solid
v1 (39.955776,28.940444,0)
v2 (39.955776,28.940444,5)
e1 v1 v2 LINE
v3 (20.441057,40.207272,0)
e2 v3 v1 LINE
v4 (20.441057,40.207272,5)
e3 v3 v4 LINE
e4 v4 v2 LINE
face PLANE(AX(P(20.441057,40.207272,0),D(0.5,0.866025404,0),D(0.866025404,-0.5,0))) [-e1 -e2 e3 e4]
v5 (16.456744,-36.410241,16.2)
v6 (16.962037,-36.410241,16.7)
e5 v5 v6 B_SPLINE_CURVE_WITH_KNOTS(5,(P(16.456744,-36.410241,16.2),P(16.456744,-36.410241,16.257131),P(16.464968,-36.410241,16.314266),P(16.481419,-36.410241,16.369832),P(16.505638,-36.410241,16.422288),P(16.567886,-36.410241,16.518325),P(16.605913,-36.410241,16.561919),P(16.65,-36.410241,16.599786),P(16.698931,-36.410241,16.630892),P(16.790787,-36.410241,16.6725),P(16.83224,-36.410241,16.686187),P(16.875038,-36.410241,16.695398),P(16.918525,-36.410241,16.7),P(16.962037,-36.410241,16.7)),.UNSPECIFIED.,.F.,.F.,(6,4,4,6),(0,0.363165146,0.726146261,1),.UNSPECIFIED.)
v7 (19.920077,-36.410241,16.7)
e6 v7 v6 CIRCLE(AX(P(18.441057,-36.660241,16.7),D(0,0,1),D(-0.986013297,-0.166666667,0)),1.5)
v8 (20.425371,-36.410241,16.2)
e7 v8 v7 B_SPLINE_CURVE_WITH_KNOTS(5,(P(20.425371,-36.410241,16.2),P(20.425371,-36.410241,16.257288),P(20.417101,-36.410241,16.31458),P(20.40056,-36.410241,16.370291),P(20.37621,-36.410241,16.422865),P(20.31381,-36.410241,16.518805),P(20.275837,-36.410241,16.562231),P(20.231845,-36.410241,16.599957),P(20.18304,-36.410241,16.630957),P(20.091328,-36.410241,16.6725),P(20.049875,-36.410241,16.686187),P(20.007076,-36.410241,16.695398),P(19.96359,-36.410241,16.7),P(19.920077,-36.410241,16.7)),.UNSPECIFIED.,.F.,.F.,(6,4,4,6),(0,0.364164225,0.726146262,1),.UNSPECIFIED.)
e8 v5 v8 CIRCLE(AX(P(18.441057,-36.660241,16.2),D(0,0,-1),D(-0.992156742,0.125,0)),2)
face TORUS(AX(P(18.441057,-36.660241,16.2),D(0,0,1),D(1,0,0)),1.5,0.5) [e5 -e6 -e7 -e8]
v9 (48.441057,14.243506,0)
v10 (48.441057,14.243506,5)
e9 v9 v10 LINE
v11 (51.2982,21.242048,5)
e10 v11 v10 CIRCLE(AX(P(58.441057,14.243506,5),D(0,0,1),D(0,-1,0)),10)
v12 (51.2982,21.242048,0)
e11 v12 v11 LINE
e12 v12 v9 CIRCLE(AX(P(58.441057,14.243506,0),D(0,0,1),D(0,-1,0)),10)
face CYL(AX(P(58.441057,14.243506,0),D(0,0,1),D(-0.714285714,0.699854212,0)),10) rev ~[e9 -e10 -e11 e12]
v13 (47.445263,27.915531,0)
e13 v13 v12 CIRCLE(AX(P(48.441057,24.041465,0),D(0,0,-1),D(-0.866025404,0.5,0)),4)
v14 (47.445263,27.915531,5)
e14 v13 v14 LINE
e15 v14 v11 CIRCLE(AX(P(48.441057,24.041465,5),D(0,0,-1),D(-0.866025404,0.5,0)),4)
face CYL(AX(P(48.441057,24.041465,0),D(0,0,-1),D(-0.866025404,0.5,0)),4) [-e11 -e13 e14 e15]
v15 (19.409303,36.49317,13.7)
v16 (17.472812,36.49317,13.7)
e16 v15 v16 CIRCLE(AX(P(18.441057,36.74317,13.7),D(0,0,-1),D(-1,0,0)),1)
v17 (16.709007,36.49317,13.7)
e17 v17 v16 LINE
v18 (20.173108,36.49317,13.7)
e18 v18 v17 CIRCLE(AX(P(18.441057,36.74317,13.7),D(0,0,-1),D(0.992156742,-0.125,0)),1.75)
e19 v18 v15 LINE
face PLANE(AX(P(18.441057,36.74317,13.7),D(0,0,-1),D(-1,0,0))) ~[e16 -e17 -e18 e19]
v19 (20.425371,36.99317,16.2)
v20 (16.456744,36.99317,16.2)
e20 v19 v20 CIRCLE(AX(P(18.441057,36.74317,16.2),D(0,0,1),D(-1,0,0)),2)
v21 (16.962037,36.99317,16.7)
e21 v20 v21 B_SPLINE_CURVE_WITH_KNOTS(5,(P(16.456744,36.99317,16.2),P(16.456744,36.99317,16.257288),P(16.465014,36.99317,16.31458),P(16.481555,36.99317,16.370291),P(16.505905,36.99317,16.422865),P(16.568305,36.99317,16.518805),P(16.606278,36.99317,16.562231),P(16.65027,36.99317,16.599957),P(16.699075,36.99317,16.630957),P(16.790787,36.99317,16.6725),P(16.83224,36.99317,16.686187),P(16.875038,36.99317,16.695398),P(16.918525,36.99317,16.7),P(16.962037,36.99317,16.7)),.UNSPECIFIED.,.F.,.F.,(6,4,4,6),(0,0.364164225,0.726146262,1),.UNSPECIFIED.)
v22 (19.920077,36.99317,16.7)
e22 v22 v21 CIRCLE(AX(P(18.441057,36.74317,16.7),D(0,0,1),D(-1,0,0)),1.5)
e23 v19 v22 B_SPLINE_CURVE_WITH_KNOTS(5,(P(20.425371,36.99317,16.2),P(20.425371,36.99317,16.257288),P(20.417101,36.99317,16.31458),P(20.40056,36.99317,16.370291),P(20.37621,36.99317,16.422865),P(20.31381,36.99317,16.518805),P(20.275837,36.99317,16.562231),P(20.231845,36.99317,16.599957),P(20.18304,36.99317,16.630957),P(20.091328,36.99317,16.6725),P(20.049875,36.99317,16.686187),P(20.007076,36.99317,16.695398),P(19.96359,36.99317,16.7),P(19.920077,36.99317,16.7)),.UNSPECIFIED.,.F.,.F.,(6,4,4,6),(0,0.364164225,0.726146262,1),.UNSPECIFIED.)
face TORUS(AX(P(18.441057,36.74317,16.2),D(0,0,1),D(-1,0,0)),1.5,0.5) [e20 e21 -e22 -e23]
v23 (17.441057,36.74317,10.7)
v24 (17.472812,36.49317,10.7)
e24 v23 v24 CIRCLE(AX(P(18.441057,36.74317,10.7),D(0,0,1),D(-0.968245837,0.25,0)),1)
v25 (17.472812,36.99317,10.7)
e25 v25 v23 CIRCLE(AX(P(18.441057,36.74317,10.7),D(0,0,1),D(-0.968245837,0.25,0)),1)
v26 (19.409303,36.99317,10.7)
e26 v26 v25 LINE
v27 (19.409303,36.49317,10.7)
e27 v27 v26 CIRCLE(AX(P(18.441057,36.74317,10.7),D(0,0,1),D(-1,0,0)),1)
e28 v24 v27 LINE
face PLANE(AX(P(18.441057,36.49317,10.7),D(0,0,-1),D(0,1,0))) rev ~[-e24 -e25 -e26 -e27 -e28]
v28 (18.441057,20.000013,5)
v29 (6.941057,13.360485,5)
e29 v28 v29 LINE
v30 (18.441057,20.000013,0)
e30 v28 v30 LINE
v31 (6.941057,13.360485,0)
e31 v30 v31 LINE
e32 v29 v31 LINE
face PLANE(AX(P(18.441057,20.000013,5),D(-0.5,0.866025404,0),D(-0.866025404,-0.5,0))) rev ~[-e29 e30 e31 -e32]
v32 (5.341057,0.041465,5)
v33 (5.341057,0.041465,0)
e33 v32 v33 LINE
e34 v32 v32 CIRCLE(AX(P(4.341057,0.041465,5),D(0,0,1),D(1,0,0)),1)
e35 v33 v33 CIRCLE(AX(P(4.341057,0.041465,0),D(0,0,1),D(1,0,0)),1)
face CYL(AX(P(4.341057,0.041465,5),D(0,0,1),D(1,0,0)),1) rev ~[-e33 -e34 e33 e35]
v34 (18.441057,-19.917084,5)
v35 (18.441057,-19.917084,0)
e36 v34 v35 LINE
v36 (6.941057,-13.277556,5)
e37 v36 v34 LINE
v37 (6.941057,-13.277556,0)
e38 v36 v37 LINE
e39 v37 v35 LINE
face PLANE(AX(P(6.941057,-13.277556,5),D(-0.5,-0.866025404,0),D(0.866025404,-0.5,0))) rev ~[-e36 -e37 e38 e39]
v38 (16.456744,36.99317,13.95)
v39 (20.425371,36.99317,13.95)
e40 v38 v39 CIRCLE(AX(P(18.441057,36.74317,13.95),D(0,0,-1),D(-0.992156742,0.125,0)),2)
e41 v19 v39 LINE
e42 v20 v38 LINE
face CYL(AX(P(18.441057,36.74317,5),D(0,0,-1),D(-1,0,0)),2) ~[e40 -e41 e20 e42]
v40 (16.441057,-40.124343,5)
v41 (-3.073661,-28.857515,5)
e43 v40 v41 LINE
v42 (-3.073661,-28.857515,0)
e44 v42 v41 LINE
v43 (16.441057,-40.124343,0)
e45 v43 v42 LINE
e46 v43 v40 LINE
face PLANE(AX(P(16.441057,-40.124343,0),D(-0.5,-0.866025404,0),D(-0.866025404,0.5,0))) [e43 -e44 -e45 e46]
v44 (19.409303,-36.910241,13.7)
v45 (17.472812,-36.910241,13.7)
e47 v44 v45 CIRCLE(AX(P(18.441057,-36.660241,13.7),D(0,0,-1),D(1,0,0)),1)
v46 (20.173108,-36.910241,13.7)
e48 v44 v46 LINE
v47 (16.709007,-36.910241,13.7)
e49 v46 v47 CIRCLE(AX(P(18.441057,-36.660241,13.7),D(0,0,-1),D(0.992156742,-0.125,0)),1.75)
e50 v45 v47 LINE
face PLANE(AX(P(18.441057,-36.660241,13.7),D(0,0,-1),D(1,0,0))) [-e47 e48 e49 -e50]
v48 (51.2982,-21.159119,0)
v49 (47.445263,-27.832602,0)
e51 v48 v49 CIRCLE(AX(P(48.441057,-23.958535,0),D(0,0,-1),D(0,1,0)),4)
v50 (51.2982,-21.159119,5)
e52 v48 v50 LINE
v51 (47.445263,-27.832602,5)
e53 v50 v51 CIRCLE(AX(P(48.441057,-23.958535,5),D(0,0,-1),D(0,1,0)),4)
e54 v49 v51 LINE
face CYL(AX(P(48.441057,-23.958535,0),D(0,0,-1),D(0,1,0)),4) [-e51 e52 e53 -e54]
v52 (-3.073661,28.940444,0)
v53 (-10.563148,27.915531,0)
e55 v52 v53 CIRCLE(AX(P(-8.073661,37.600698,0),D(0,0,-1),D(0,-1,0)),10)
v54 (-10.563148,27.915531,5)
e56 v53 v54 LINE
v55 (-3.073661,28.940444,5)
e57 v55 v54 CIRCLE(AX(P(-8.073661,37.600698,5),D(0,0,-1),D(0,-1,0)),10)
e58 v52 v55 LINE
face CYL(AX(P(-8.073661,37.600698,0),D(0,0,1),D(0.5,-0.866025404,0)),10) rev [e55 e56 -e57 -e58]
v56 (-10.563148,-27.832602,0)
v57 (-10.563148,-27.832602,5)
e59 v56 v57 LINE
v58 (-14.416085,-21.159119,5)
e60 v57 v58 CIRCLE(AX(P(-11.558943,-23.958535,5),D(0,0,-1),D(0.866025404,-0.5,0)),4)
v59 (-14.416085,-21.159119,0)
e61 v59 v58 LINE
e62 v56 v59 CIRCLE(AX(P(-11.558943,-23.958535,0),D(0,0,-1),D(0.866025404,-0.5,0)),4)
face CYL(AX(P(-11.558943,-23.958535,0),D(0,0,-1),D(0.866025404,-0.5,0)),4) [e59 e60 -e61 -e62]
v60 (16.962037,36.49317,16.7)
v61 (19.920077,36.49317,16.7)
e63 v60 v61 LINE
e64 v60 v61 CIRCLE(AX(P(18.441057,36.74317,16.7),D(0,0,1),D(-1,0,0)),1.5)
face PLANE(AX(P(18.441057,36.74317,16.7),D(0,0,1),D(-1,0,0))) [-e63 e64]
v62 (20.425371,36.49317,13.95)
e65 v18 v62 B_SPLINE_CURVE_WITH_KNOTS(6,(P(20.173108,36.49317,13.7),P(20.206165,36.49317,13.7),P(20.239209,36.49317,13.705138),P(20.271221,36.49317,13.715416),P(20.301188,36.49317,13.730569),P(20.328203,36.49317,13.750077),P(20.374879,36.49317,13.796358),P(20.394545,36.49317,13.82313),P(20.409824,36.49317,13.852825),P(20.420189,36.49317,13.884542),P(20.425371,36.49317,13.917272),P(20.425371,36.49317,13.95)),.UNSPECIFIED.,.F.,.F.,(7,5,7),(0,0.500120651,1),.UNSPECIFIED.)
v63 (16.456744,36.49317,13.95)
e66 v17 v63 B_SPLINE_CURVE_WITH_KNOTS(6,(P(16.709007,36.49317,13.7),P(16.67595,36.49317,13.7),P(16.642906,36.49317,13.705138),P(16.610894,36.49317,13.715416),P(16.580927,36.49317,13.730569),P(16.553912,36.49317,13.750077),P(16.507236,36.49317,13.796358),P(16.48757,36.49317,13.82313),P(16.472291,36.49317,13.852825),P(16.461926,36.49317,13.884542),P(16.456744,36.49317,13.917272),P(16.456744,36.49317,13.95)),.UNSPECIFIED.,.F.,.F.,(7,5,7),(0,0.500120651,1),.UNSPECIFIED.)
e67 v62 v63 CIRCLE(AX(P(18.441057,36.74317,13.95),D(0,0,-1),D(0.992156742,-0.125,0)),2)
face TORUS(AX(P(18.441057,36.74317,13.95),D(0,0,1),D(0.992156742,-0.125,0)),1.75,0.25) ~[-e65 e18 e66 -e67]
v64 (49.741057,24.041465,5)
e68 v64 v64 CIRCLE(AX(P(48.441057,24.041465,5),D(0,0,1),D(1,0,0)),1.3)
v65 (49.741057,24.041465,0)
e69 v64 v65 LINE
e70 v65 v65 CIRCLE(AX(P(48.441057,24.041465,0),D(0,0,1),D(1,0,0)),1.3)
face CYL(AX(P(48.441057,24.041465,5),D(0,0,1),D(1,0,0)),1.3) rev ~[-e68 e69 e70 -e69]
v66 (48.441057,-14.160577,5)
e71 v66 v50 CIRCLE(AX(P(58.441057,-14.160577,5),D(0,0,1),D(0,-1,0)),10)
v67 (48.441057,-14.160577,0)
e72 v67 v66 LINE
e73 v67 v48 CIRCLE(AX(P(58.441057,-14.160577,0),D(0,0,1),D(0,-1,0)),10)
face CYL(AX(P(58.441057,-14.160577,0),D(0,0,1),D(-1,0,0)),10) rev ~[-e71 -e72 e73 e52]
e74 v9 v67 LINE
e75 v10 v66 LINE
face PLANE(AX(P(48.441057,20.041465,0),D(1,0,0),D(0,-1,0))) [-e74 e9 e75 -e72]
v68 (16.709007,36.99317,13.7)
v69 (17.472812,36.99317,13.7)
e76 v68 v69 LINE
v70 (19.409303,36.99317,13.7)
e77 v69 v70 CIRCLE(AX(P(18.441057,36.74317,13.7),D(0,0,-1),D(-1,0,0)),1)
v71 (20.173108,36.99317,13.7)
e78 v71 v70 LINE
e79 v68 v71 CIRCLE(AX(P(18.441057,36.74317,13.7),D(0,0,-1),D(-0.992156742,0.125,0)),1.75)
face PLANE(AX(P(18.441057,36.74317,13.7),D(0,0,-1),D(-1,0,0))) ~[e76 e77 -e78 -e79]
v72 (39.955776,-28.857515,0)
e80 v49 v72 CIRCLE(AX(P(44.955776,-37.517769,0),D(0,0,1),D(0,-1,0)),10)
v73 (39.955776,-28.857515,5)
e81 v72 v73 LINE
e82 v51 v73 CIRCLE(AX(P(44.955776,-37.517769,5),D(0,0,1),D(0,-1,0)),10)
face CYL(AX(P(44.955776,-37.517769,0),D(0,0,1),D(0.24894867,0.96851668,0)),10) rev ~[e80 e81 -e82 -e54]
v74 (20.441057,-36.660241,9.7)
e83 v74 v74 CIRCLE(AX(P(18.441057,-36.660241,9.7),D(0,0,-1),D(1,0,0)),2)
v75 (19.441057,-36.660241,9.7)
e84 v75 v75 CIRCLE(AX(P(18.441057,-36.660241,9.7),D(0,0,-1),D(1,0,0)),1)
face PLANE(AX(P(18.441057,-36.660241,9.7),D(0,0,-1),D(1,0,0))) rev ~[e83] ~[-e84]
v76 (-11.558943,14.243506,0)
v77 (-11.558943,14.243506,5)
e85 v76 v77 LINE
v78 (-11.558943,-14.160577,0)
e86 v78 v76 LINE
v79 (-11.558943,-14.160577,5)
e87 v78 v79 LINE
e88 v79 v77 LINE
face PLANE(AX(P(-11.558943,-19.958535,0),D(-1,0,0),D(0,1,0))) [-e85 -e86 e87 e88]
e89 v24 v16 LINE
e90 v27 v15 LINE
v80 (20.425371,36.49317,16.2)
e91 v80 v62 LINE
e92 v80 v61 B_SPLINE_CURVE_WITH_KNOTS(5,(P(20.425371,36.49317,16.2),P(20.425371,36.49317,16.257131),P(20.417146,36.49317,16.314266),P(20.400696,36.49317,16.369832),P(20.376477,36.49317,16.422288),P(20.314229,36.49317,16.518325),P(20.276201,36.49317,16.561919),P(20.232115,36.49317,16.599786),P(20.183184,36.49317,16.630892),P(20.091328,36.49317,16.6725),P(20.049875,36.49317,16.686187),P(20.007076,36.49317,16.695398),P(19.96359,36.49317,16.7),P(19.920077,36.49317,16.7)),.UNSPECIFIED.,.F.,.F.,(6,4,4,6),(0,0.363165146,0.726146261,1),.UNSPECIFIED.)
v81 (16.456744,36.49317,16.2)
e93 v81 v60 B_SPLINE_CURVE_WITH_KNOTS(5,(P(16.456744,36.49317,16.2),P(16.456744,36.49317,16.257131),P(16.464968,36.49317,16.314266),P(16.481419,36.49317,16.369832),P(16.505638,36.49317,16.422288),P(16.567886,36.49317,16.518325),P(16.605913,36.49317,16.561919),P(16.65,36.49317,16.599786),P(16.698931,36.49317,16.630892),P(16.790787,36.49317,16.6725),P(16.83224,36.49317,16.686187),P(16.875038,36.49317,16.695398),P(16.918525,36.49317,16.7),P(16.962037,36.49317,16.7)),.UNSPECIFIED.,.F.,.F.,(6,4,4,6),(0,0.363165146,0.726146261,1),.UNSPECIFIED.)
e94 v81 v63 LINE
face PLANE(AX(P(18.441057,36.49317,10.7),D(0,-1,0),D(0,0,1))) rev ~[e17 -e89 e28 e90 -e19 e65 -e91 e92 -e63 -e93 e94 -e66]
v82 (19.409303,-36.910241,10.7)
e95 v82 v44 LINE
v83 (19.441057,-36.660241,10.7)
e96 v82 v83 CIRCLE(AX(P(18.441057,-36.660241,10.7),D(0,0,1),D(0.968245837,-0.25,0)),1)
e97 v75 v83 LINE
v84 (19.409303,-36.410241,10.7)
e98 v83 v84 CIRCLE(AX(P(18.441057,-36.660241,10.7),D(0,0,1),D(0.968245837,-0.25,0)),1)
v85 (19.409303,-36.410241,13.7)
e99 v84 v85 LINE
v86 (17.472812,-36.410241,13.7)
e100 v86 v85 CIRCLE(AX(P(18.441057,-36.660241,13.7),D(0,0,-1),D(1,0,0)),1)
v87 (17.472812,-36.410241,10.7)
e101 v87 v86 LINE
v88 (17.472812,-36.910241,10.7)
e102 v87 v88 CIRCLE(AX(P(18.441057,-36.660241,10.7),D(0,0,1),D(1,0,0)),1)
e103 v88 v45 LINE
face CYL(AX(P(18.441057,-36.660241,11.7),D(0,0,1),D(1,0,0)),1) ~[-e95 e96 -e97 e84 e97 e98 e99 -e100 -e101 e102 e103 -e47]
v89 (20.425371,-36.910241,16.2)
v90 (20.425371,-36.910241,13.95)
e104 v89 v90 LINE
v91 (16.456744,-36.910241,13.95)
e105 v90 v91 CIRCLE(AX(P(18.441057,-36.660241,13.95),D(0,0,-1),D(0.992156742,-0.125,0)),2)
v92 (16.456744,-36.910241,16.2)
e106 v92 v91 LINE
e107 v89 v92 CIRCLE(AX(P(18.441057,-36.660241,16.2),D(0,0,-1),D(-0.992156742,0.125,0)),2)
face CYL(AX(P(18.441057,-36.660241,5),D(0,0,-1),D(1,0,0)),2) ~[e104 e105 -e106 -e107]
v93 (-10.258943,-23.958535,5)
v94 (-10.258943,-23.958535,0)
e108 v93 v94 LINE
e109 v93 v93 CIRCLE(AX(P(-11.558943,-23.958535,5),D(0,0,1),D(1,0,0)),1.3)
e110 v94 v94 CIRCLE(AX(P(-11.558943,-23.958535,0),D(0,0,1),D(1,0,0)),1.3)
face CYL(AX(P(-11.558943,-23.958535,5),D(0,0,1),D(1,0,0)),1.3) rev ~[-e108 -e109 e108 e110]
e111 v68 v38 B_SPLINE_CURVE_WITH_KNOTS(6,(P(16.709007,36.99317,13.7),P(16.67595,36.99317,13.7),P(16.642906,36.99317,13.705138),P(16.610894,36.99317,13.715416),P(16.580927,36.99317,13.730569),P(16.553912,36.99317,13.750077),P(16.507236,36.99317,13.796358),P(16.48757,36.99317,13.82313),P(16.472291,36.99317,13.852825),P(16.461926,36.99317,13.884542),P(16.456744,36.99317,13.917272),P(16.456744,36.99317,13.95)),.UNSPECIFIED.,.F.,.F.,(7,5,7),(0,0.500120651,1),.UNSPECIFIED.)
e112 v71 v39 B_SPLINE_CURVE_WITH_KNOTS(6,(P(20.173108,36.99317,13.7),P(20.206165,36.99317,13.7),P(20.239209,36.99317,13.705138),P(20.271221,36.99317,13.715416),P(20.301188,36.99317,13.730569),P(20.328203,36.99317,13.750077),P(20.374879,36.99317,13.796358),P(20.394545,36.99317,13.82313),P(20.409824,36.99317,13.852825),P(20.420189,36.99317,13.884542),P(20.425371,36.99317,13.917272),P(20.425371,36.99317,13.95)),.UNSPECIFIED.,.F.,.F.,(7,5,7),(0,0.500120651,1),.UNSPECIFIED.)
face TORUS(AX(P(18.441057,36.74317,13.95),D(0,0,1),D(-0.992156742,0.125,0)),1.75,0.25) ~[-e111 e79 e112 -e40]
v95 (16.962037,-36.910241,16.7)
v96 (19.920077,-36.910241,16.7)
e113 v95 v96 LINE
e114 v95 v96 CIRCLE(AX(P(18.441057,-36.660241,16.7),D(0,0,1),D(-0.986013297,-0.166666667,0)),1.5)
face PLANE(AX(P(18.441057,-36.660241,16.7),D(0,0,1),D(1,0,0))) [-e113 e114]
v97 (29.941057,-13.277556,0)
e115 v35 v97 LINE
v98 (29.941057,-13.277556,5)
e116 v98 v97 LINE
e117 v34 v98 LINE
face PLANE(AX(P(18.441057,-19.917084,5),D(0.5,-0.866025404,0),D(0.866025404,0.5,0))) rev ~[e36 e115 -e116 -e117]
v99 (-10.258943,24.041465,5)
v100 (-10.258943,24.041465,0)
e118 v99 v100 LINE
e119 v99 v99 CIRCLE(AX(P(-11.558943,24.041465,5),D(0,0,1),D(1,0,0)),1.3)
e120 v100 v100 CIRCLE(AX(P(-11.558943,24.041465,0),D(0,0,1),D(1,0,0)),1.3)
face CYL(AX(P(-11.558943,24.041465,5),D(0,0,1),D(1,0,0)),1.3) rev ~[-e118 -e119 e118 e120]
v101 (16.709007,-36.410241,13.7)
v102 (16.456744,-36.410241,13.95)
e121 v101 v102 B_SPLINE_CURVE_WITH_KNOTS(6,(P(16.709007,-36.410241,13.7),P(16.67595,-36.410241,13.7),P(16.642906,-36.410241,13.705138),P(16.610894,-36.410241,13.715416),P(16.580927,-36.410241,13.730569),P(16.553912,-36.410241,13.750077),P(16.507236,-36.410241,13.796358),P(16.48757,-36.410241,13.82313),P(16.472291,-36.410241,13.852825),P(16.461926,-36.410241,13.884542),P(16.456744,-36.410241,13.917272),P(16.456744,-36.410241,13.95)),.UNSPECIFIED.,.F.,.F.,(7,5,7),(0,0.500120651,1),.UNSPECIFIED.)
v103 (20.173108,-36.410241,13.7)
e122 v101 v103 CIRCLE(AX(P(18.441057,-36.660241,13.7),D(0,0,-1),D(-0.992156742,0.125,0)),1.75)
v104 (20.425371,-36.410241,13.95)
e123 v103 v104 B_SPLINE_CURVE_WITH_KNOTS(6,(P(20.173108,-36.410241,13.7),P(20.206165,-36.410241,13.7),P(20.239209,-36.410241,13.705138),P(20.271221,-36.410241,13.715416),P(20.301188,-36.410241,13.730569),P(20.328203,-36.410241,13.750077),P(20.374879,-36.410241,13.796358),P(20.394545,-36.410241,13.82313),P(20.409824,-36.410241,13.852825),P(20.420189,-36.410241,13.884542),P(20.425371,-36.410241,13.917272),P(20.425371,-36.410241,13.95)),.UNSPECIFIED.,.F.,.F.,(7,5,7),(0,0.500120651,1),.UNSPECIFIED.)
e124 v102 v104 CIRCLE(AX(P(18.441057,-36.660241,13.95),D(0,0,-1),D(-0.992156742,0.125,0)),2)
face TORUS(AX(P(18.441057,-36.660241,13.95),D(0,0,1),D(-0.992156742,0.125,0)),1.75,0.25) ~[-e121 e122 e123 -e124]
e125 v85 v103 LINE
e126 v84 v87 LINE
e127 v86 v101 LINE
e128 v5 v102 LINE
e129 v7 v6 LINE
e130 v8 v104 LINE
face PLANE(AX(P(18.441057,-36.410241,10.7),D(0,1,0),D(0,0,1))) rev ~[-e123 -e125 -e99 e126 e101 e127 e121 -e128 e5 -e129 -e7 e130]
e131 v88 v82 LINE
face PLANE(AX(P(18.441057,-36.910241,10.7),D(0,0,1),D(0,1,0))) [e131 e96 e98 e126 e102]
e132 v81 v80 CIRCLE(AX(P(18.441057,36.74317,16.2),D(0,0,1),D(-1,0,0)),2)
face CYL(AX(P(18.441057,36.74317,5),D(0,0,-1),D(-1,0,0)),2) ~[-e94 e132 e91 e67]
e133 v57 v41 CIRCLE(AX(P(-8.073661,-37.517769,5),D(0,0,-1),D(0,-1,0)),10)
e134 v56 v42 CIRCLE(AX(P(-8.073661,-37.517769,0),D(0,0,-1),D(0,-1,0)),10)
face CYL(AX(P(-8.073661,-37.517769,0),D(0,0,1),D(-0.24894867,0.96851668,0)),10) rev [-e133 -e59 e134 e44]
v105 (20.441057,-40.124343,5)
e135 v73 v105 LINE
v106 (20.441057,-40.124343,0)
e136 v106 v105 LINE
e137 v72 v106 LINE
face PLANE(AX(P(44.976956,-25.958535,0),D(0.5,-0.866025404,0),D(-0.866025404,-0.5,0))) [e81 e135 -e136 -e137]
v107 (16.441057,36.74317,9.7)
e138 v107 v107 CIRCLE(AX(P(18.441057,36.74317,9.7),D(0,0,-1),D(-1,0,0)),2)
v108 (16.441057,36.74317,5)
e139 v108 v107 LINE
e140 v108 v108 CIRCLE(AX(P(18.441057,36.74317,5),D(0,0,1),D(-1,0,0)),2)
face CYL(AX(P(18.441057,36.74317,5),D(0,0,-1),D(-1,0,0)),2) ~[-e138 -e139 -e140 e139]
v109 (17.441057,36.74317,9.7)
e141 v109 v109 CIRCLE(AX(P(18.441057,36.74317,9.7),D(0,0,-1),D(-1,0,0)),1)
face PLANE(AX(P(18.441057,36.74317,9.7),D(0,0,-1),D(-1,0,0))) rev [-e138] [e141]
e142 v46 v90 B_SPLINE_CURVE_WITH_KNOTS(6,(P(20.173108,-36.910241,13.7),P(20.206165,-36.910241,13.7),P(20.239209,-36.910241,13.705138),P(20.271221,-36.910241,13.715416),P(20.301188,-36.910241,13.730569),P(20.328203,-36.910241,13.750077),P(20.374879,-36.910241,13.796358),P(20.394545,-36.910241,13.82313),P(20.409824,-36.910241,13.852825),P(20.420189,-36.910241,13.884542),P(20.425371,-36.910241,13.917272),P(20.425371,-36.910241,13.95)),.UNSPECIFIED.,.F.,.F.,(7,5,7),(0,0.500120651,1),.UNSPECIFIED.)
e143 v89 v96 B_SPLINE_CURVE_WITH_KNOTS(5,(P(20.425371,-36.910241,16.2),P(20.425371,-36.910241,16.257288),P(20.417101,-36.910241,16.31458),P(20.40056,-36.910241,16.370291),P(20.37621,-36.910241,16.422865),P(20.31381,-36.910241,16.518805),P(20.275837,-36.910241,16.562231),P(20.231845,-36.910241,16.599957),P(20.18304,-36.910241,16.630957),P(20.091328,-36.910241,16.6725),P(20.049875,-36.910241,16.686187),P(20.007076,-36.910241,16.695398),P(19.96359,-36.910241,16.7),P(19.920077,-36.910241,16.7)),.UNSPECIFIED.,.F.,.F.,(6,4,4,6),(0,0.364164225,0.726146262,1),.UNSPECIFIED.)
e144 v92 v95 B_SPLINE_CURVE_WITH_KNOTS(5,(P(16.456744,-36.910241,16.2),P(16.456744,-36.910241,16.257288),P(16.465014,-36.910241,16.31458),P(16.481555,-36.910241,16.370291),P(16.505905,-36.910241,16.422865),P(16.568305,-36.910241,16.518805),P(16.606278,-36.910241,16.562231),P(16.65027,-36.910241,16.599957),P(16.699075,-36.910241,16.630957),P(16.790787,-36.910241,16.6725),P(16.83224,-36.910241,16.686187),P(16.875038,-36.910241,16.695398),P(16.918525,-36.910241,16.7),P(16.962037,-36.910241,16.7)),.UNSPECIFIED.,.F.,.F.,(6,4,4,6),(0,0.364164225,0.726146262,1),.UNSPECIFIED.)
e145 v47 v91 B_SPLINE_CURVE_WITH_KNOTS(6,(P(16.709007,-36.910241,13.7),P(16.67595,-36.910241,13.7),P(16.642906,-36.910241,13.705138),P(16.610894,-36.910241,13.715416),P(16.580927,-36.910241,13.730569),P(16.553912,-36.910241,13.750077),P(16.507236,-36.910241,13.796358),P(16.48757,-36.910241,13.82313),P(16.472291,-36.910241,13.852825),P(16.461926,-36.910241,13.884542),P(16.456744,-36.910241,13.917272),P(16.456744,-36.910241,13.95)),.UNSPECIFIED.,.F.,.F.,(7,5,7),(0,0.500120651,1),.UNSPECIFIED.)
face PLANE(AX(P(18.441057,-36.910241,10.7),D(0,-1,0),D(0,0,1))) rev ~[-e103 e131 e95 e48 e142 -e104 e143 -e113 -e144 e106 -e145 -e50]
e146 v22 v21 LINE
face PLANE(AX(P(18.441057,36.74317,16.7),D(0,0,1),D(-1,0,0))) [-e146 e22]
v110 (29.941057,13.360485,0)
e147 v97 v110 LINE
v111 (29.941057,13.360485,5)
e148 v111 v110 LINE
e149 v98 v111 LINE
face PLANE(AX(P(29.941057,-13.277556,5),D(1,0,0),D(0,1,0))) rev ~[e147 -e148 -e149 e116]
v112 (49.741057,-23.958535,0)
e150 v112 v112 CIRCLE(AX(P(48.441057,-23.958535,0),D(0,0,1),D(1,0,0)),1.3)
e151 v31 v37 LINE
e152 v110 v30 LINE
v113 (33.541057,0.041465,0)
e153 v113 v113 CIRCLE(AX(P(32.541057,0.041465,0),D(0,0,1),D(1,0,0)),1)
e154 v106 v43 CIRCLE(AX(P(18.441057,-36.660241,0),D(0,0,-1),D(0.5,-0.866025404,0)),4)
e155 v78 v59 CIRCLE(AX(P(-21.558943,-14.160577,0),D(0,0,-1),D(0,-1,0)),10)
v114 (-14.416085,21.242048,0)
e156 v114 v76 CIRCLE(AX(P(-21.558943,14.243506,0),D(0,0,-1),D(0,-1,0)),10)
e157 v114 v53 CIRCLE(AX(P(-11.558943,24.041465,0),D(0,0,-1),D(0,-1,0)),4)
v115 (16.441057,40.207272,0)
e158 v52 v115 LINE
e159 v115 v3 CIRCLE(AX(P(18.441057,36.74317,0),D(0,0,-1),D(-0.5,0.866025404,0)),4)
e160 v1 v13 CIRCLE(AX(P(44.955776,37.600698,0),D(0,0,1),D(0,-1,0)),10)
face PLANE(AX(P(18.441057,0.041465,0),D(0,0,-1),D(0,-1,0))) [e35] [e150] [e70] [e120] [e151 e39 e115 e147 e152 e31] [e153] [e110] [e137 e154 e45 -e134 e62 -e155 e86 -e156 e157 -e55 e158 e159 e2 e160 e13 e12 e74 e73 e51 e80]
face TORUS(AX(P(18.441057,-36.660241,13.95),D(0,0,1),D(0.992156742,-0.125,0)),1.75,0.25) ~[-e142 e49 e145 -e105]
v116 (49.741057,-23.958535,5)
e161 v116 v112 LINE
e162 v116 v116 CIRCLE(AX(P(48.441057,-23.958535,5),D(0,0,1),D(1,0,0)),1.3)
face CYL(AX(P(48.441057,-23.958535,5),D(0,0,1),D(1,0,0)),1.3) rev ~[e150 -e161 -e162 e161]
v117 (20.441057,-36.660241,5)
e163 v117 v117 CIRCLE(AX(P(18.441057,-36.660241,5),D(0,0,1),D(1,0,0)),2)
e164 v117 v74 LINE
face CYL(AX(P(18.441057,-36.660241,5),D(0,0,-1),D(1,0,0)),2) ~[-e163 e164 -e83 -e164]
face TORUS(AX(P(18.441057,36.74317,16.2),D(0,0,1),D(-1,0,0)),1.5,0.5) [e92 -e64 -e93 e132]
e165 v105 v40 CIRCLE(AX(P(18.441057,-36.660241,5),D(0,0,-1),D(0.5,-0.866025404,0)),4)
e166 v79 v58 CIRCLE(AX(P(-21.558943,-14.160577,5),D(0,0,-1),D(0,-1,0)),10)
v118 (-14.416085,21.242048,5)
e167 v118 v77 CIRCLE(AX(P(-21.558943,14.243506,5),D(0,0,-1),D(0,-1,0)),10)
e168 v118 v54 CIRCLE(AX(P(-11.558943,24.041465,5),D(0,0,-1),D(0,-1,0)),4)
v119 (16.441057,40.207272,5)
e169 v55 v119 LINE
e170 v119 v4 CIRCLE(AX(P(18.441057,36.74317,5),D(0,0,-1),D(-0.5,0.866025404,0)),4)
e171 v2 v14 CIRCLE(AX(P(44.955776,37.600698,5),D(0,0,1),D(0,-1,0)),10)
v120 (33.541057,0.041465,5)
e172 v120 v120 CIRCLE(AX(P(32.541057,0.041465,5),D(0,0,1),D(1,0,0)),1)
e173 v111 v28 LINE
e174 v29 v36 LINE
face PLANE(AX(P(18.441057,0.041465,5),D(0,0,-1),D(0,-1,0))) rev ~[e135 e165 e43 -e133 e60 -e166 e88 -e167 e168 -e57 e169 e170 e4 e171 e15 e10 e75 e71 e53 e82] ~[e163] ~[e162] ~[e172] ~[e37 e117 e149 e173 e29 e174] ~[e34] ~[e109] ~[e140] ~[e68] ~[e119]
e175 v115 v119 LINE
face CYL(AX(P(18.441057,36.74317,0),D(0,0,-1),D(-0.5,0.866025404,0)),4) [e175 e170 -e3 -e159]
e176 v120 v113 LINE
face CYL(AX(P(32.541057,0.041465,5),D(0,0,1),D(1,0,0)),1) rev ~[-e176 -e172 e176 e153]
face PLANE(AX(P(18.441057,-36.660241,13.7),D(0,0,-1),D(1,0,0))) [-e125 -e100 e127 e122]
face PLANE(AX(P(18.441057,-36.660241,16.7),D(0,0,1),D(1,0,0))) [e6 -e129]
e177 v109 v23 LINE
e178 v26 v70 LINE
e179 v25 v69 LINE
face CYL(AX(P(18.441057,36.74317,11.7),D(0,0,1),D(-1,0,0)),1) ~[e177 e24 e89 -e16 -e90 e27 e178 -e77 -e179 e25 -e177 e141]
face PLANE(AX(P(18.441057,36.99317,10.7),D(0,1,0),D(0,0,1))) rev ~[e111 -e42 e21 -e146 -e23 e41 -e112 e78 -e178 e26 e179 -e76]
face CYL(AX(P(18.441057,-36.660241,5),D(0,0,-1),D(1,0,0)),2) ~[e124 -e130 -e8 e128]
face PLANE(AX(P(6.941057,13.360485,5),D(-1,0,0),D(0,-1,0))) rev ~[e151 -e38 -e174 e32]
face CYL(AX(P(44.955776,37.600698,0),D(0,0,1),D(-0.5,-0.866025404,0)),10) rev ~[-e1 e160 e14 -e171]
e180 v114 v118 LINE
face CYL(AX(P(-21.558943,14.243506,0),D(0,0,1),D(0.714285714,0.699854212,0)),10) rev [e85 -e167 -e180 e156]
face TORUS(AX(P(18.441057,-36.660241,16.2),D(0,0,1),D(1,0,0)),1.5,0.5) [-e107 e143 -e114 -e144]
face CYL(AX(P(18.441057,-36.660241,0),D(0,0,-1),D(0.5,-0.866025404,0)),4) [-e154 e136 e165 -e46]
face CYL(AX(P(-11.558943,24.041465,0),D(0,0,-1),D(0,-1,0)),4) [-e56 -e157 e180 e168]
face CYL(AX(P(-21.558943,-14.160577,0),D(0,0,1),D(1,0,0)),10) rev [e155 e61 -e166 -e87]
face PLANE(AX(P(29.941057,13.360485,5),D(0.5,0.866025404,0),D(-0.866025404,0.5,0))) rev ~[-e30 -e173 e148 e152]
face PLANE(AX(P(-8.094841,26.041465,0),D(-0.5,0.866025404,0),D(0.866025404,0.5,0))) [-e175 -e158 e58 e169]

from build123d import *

# Parameters (mm, degrees)
BOSS_EXTRUDE1_DEPTH            = 5
SKETCH2_R                      = 2
BOSS_EXTRUDE2_DEPTH            = 11.7
CUT_EXTRUDE1_REACH             = 69.431
SKETCH3_R                      = 1.3
FILLET1_R                      = 10
FILLET3_R                      = 0.5
CUT_EXTRUDE4_REACH             = 69.431
CUT_EXTRUDE5_REACH             = 69.431
SKETCH10_R                     = 1
SKETCH20_W                     = 1
SKETCH20_H                     = 4
CUT_EXTRUDE6_REACH             = 57.632
SKETCH21_W                     = 0.5
SKETCH21_H                     = 6
CUT_EXTRUDE6_DIRECTION_2_REACH = 57.632
SKETCH24_W                     = 1
SKETCH24_H                     = 4
CUT_EXTRUDE7_REACH             = 57.632
SKETCH25_W                     = 0.5
SKETCH25_H                     = 6
CUT_EXTRUDE7_DIRECTION_2_REACH = 57.632
FILLET4_R                      = 0.25


with BuildPart() as part:
    # Sketch1 → Boss-Extrude1 (new body)
    with BuildSketch(Plane(origin=(0, 0, 0), x_dir=(0, 1, 0), z_dir=(0, 0, 1))):
        with BuildLine():
            Line((26.041464511, 8.094840945), (40.207272049, -16.44105744))
            ThreePointArc((40.207272049, -16.44105744), (40.743170434, -18.44105744), (40.207272049, -20.44105744))
            Line((40.207272049, -20.44105744), (26.041464511, -44.976955825))
            ThreePointArc((26.041464511, -44.976955825), (26.041464511, -51.905159055), (20.041464511, -48.44105744))
            Line((20.041464511, -48.44105744), (-19.958535489, -48.44105744))
            ThreePointArc((-19.958535489, -48.44105744), (-25.958535489, -51.905159055), (-25.958535489, -44.976955825))
            Line((-25.958535489, -44.976955825), (-40.124343026, -20.44105744))
            ThreePointArc((-40.124343026, -20.44105744), (-40.660241411, -18.44105744), (-40.124343026, -16.44105744))
            Line((-40.124343026, -16.44105744), (-25.958535489, 8.094840945))
            ThreePointArc((-25.958535489, 8.094840945), (-25.958535489, 15.023044175), (-19.958535489, 11.55894256))
            Line((-19.958535489, 11.55894256), (20.041464511, 11.55894256))
            ThreePointArc((20.041464511, 11.55894256), (26.041464511, 15.023044175), (26.041464511, 8.094840945))
        make_face()
    extrude(amount=BOSS_EXTRUDE1_DEPTH)

    # Sketch2 → Boss-Extrude2 (add)
    with BuildSketch(Plane.XY.offset(5)):
        with Locations((18.44105744, -36.660241411)):
            Circle(SKETCH2_R)
        with Locations(Location((18.44105744, 36.743170434, 0), (0, 0, 180))):
            Circle(SKETCH2_R)
    extrude(amount=BOSS_EXTRUDE2_DEPTH)

    # Sketch3 → Cut-Extrude1 (cut, up to next)
    with BuildSketch(Plane.XY.offset(5), mode=Mode.PRIVATE) as cut_extrude1_sk1:
        with Locations((-11.55894256, 24.041464511)):
            Circle(SKETCH3_R)
    cut_extrude1_tool1 = extrude(cut_extrude1_sk1.sketch, amount=-CUT_EXTRUDE1_REACH, mode=Mode.PRIVATE) & part.part
    # Sketch3 → Cut-Extrude1 (cut, up to next)
    with BuildSketch(Plane.XY.offset(5), mode=Mode.PRIVATE) as cut_extrude1_sk2:
        with Locations((48.44105744, 24.041464511)):
            Circle(SKETCH3_R)
    cut_extrude1_tool2 = extrude(cut_extrude1_sk2.sketch, amount=-CUT_EXTRUDE1_REACH, mode=Mode.PRIVATE) & part.part
    # Sketch3 → Cut-Extrude1 (cut, up to next)
    with BuildSketch(Plane.XY.offset(5), mode=Mode.PRIVATE) as cut_extrude1_sk3:
        with Locations((48.44105744, -23.958535489)):
            Circle(SKETCH3_R)
    cut_extrude1_tool3 = extrude(cut_extrude1_sk3.sketch, amount=-CUT_EXTRUDE1_REACH, mode=Mode.PRIVATE) & part.part
    # Sketch3 → Cut-Extrude1 (cut, up to next)
    with BuildSketch(Plane.XY.offset(5), mode=Mode.PRIVATE) as cut_extrude1_sk4:
        with Locations((-11.55894256, -23.958535489)):
            Circle(SKETCH3_R)
    cut_extrude1_tool4 = extrude(cut_extrude1_sk4.sketch, amount=-CUT_EXTRUDE1_REACH, mode=Mode.PRIVATE) & part.part
    add(cut_extrude1_tool1.solids().sort_by_distance((-11.558943, 24.041465, 5))[0], mode=Mode.SUBTRACT)
    add(cut_extrude1_tool2.solids().sort_by_distance((48.441057, 24.041465, 5))[0], mode=Mode.SUBTRACT)
    add(cut_extrude1_tool3.solids().sort_by_distance((48.441057, -23.958535, 5))[0], mode=Mode.SUBTRACT)
    add(cut_extrude1_tool4.solids().sort_by_distance((-11.558943, -23.958535, 5))[0], mode=Mode.SUBTRACT)

    # Fillet1
    fillet1_edges = [part.edges().sort_by_distance(p)[0] for p in [
        (44.976955825, -25.958535489, 2.5),
        (-8.094840945, -25.958535489, 2.5),
        (-11.55894256, -19.958535489, 2.5),
        (-11.55894256, 20.041464511, 2.5),
        (-8.094840945, 26.041464511, 2.5),
        (44.976955825, 26.041464511, 2.5),
        (48.44105744, 20.041464511, 2.5),
        (48.44105744, -19.958535489, 2.5),
    ]]
    fillet(fillet1_edges, radius=FILLET1_R)

    # Fillet3
    fillet3_edges = [part.edges().sort_by_distance(p)[0] for p in [
        (16.44105744, -36.660241411, 16.7),
        (20.44105744, 36.743170434, 16.7),
    ]]
    fillet(fillet3_edges, radius=FILLET3_R)

    # Sketch9 → Cut-Extrude4 (cut, up to next)
    with BuildSketch(Plane.XY.offset(5), mode=Mode.PRIVATE) as cut_extrude4_sk1:
        Polygon((18.44105744, -19.917083604), (29.94105744, -13.277555509), (29.94105744, 13.360484531), (18.44105744, 20.000012627), (6.94105744, 13.360484531), (6.94105744, -13.277555509), align=None)
    cut_extrude4_tool1 = extrude(cut_extrude4_sk1.sketch, amount=-CUT_EXTRUDE4_REACH, mode=Mode.PRIVATE) & part.part
    add(cut_extrude4_tool1.solids().sort_by_distance((18.441057, 0.041465, 5))[0], mode=Mode.SUBTRACT)

    # Sketch10 → Cut-Extrude5 (cut, up to next)
    with BuildSketch(Plane.XY.offset(5), mode=Mode.PRIVATE) as cut_extrude5_sk1:
        with Locations((4.34105744, 0.041464511)):
            Circle(SKETCH10_R)
    cut_extrude5_tool1 = extrude(cut_extrude5_sk1.sketch, amount=-CUT_EXTRUDE5_REACH, mode=Mode.PRIVATE) & part.part
    # Sketch10 → Cut-Extrude5 (cut, up to next)
    with BuildSketch(Plane.XY.offset(5), mode=Mode.PRIVATE) as cut_extrude5_sk2:
        with Locations((32.54105744, 0.041464511)):
            Circle(SKETCH10_R)
    cut_extrude5_tool2 = extrude(cut_extrude5_sk2.sketch, amount=-CUT_EXTRUDE5_REACH, mode=Mode.PRIVATE) & part.part
    add(cut_extrude5_tool1.solids().sort_by_distance((4.341057, 0.041465, 5))[0], mode=Mode.SUBTRACT)
    add(cut_extrude5_tool2.solids().sort_by_distance((32.541057, 0.041465, 5))[0], mode=Mode.SUBTRACT)

    # Sketch20 → Cut-Revolve1 (revolve, cut)
    with BuildSketch(Plane.YZ.offset(18.44105744), mode=Mode.PRIVATE) as cut_revolve1_sk:
        with Locations((38.243170434, 11.7)):
            Rectangle(SKETCH20_W, SKETCH20_H)
    revolve(cut_revolve1_sk.sketch.rotate(Axis((18.44105744, 36.743170434, 16.7), (0, 0, -1)), 270), axis=Axis((18.44105744, 36.743170434, 16.7), (0, 0, -1)), mode=Mode.SUBTRACT)

    # Sketch21 → Cut-Extrude6 (cut, up to next)
    with BuildSketch(Plane.YZ.offset(18.44105744), mode=Mode.PRIVATE) as cut_extrude6_sk1:
        with Locations((36.743170434, 13.7)):
            Rectangle(SKETCH21_W, SKETCH21_H)
    cut_extrude6_tool1 = extrude(cut_extrude6_sk1.sketch, amount=-CUT_EXTRUDE6_REACH, mode=Mode.PRIVATE) & part.part
    add(cut_extrude6_tool1.solids().sort_by_distance((18.441057, 36.74317, 13.7))[0], mode=Mode.SUBTRACT)

    # Sketch21 → Cut-Extrude6 direction 2 (cut, up to next)
    with BuildSketch(Plane.YZ.offset(18.44105744), mode=Mode.PRIVATE) as cut_extrude6_direction_2_sk1:
        with Locations((36.743170434, 13.7)):
            Rectangle(SKETCH21_W, SKETCH21_H)
    cut_extrude6_direction_2_tool1 = extrude(cut_extrude6_direction_2_sk1.sketch, amount=CUT_EXTRUDE6_DIRECTION_2_REACH, mode=Mode.PRIVATE) & part.part
    add(cut_extrude6_direction_2_tool1.solids().sort_by_distance((18.441057, 36.74317, 13.7))[0], mode=Mode.SUBTRACT)

    # Sketch24 → Cut-Revolve2 (revolve, cut)
    with BuildSketch(Plane.YZ.offset(18.44105744), mode=Mode.PRIVATE) as cut_revolve2_sk:
        with Locations((-38.160241411, 11.7)):
            Rectangle(SKETCH24_W, SKETCH24_H)
    revolve(cut_revolve2_sk.sketch.rotate(Axis((18.44105744, -36.660241411, 16.7), (0, 0, -1)), 270), axis=Axis((18.44105744, -36.660241411, 16.7), (0, 0, -1)), mode=Mode.SUBTRACT)

    # Sketch25 → Cut-Extrude7 (cut, up to next)
    with BuildSketch(Plane.YZ.offset(18.44105744), mode=Mode.PRIVATE) as cut_extrude7_sk1:
        with Locations((-36.660241411, 13.7)):
            Rectangle(SKETCH25_W, SKETCH25_H)
    cut_extrude7_tool1 = extrude(cut_extrude7_sk1.sketch, amount=-CUT_EXTRUDE7_REACH, mode=Mode.PRIVATE) & part.part
    add(cut_extrude7_tool1.solids().sort_by_distance((18.441057, -36.660241, 13.7))[0], mode=Mode.SUBTRACT)

    # Sketch25 → Cut-Extrude7 direction 2 (cut, up to next)
    with BuildSketch(Plane.YZ.offset(18.44105744), mode=Mode.PRIVATE) as cut_extrude7_direction_2_sk1:
        with Locations((-36.660241411, 13.7)):
            Rectangle(SKETCH25_W, SKETCH25_H)
    cut_extrude7_direction_2_tool1 = extrude(cut_extrude7_direction_2_sk1.sketch, amount=CUT_EXTRUDE7_DIRECTION_2_REACH, mode=Mode.PRIVATE) & part.part
    add(cut_extrude7_direction_2_tool1.solids().sort_by_distance((18.441057, -36.660241, 13.7))[0], mode=Mode.SUBTRACT)

    # Fillet4
    fillet4_edges = [part.edges().sort_by_distance(p)[0] for p in [
        (18.44105744, 38.743170434, 13.7),
        (18.44105744, 34.743170434, 13.7),
        (18.44105744, -34.660241411, 13.7),
        (18.44105744, -38.660241411, 13.7),
    ]]
    fillet(fillet4_edges, radius=FILLET4_R)


solid = part.part
